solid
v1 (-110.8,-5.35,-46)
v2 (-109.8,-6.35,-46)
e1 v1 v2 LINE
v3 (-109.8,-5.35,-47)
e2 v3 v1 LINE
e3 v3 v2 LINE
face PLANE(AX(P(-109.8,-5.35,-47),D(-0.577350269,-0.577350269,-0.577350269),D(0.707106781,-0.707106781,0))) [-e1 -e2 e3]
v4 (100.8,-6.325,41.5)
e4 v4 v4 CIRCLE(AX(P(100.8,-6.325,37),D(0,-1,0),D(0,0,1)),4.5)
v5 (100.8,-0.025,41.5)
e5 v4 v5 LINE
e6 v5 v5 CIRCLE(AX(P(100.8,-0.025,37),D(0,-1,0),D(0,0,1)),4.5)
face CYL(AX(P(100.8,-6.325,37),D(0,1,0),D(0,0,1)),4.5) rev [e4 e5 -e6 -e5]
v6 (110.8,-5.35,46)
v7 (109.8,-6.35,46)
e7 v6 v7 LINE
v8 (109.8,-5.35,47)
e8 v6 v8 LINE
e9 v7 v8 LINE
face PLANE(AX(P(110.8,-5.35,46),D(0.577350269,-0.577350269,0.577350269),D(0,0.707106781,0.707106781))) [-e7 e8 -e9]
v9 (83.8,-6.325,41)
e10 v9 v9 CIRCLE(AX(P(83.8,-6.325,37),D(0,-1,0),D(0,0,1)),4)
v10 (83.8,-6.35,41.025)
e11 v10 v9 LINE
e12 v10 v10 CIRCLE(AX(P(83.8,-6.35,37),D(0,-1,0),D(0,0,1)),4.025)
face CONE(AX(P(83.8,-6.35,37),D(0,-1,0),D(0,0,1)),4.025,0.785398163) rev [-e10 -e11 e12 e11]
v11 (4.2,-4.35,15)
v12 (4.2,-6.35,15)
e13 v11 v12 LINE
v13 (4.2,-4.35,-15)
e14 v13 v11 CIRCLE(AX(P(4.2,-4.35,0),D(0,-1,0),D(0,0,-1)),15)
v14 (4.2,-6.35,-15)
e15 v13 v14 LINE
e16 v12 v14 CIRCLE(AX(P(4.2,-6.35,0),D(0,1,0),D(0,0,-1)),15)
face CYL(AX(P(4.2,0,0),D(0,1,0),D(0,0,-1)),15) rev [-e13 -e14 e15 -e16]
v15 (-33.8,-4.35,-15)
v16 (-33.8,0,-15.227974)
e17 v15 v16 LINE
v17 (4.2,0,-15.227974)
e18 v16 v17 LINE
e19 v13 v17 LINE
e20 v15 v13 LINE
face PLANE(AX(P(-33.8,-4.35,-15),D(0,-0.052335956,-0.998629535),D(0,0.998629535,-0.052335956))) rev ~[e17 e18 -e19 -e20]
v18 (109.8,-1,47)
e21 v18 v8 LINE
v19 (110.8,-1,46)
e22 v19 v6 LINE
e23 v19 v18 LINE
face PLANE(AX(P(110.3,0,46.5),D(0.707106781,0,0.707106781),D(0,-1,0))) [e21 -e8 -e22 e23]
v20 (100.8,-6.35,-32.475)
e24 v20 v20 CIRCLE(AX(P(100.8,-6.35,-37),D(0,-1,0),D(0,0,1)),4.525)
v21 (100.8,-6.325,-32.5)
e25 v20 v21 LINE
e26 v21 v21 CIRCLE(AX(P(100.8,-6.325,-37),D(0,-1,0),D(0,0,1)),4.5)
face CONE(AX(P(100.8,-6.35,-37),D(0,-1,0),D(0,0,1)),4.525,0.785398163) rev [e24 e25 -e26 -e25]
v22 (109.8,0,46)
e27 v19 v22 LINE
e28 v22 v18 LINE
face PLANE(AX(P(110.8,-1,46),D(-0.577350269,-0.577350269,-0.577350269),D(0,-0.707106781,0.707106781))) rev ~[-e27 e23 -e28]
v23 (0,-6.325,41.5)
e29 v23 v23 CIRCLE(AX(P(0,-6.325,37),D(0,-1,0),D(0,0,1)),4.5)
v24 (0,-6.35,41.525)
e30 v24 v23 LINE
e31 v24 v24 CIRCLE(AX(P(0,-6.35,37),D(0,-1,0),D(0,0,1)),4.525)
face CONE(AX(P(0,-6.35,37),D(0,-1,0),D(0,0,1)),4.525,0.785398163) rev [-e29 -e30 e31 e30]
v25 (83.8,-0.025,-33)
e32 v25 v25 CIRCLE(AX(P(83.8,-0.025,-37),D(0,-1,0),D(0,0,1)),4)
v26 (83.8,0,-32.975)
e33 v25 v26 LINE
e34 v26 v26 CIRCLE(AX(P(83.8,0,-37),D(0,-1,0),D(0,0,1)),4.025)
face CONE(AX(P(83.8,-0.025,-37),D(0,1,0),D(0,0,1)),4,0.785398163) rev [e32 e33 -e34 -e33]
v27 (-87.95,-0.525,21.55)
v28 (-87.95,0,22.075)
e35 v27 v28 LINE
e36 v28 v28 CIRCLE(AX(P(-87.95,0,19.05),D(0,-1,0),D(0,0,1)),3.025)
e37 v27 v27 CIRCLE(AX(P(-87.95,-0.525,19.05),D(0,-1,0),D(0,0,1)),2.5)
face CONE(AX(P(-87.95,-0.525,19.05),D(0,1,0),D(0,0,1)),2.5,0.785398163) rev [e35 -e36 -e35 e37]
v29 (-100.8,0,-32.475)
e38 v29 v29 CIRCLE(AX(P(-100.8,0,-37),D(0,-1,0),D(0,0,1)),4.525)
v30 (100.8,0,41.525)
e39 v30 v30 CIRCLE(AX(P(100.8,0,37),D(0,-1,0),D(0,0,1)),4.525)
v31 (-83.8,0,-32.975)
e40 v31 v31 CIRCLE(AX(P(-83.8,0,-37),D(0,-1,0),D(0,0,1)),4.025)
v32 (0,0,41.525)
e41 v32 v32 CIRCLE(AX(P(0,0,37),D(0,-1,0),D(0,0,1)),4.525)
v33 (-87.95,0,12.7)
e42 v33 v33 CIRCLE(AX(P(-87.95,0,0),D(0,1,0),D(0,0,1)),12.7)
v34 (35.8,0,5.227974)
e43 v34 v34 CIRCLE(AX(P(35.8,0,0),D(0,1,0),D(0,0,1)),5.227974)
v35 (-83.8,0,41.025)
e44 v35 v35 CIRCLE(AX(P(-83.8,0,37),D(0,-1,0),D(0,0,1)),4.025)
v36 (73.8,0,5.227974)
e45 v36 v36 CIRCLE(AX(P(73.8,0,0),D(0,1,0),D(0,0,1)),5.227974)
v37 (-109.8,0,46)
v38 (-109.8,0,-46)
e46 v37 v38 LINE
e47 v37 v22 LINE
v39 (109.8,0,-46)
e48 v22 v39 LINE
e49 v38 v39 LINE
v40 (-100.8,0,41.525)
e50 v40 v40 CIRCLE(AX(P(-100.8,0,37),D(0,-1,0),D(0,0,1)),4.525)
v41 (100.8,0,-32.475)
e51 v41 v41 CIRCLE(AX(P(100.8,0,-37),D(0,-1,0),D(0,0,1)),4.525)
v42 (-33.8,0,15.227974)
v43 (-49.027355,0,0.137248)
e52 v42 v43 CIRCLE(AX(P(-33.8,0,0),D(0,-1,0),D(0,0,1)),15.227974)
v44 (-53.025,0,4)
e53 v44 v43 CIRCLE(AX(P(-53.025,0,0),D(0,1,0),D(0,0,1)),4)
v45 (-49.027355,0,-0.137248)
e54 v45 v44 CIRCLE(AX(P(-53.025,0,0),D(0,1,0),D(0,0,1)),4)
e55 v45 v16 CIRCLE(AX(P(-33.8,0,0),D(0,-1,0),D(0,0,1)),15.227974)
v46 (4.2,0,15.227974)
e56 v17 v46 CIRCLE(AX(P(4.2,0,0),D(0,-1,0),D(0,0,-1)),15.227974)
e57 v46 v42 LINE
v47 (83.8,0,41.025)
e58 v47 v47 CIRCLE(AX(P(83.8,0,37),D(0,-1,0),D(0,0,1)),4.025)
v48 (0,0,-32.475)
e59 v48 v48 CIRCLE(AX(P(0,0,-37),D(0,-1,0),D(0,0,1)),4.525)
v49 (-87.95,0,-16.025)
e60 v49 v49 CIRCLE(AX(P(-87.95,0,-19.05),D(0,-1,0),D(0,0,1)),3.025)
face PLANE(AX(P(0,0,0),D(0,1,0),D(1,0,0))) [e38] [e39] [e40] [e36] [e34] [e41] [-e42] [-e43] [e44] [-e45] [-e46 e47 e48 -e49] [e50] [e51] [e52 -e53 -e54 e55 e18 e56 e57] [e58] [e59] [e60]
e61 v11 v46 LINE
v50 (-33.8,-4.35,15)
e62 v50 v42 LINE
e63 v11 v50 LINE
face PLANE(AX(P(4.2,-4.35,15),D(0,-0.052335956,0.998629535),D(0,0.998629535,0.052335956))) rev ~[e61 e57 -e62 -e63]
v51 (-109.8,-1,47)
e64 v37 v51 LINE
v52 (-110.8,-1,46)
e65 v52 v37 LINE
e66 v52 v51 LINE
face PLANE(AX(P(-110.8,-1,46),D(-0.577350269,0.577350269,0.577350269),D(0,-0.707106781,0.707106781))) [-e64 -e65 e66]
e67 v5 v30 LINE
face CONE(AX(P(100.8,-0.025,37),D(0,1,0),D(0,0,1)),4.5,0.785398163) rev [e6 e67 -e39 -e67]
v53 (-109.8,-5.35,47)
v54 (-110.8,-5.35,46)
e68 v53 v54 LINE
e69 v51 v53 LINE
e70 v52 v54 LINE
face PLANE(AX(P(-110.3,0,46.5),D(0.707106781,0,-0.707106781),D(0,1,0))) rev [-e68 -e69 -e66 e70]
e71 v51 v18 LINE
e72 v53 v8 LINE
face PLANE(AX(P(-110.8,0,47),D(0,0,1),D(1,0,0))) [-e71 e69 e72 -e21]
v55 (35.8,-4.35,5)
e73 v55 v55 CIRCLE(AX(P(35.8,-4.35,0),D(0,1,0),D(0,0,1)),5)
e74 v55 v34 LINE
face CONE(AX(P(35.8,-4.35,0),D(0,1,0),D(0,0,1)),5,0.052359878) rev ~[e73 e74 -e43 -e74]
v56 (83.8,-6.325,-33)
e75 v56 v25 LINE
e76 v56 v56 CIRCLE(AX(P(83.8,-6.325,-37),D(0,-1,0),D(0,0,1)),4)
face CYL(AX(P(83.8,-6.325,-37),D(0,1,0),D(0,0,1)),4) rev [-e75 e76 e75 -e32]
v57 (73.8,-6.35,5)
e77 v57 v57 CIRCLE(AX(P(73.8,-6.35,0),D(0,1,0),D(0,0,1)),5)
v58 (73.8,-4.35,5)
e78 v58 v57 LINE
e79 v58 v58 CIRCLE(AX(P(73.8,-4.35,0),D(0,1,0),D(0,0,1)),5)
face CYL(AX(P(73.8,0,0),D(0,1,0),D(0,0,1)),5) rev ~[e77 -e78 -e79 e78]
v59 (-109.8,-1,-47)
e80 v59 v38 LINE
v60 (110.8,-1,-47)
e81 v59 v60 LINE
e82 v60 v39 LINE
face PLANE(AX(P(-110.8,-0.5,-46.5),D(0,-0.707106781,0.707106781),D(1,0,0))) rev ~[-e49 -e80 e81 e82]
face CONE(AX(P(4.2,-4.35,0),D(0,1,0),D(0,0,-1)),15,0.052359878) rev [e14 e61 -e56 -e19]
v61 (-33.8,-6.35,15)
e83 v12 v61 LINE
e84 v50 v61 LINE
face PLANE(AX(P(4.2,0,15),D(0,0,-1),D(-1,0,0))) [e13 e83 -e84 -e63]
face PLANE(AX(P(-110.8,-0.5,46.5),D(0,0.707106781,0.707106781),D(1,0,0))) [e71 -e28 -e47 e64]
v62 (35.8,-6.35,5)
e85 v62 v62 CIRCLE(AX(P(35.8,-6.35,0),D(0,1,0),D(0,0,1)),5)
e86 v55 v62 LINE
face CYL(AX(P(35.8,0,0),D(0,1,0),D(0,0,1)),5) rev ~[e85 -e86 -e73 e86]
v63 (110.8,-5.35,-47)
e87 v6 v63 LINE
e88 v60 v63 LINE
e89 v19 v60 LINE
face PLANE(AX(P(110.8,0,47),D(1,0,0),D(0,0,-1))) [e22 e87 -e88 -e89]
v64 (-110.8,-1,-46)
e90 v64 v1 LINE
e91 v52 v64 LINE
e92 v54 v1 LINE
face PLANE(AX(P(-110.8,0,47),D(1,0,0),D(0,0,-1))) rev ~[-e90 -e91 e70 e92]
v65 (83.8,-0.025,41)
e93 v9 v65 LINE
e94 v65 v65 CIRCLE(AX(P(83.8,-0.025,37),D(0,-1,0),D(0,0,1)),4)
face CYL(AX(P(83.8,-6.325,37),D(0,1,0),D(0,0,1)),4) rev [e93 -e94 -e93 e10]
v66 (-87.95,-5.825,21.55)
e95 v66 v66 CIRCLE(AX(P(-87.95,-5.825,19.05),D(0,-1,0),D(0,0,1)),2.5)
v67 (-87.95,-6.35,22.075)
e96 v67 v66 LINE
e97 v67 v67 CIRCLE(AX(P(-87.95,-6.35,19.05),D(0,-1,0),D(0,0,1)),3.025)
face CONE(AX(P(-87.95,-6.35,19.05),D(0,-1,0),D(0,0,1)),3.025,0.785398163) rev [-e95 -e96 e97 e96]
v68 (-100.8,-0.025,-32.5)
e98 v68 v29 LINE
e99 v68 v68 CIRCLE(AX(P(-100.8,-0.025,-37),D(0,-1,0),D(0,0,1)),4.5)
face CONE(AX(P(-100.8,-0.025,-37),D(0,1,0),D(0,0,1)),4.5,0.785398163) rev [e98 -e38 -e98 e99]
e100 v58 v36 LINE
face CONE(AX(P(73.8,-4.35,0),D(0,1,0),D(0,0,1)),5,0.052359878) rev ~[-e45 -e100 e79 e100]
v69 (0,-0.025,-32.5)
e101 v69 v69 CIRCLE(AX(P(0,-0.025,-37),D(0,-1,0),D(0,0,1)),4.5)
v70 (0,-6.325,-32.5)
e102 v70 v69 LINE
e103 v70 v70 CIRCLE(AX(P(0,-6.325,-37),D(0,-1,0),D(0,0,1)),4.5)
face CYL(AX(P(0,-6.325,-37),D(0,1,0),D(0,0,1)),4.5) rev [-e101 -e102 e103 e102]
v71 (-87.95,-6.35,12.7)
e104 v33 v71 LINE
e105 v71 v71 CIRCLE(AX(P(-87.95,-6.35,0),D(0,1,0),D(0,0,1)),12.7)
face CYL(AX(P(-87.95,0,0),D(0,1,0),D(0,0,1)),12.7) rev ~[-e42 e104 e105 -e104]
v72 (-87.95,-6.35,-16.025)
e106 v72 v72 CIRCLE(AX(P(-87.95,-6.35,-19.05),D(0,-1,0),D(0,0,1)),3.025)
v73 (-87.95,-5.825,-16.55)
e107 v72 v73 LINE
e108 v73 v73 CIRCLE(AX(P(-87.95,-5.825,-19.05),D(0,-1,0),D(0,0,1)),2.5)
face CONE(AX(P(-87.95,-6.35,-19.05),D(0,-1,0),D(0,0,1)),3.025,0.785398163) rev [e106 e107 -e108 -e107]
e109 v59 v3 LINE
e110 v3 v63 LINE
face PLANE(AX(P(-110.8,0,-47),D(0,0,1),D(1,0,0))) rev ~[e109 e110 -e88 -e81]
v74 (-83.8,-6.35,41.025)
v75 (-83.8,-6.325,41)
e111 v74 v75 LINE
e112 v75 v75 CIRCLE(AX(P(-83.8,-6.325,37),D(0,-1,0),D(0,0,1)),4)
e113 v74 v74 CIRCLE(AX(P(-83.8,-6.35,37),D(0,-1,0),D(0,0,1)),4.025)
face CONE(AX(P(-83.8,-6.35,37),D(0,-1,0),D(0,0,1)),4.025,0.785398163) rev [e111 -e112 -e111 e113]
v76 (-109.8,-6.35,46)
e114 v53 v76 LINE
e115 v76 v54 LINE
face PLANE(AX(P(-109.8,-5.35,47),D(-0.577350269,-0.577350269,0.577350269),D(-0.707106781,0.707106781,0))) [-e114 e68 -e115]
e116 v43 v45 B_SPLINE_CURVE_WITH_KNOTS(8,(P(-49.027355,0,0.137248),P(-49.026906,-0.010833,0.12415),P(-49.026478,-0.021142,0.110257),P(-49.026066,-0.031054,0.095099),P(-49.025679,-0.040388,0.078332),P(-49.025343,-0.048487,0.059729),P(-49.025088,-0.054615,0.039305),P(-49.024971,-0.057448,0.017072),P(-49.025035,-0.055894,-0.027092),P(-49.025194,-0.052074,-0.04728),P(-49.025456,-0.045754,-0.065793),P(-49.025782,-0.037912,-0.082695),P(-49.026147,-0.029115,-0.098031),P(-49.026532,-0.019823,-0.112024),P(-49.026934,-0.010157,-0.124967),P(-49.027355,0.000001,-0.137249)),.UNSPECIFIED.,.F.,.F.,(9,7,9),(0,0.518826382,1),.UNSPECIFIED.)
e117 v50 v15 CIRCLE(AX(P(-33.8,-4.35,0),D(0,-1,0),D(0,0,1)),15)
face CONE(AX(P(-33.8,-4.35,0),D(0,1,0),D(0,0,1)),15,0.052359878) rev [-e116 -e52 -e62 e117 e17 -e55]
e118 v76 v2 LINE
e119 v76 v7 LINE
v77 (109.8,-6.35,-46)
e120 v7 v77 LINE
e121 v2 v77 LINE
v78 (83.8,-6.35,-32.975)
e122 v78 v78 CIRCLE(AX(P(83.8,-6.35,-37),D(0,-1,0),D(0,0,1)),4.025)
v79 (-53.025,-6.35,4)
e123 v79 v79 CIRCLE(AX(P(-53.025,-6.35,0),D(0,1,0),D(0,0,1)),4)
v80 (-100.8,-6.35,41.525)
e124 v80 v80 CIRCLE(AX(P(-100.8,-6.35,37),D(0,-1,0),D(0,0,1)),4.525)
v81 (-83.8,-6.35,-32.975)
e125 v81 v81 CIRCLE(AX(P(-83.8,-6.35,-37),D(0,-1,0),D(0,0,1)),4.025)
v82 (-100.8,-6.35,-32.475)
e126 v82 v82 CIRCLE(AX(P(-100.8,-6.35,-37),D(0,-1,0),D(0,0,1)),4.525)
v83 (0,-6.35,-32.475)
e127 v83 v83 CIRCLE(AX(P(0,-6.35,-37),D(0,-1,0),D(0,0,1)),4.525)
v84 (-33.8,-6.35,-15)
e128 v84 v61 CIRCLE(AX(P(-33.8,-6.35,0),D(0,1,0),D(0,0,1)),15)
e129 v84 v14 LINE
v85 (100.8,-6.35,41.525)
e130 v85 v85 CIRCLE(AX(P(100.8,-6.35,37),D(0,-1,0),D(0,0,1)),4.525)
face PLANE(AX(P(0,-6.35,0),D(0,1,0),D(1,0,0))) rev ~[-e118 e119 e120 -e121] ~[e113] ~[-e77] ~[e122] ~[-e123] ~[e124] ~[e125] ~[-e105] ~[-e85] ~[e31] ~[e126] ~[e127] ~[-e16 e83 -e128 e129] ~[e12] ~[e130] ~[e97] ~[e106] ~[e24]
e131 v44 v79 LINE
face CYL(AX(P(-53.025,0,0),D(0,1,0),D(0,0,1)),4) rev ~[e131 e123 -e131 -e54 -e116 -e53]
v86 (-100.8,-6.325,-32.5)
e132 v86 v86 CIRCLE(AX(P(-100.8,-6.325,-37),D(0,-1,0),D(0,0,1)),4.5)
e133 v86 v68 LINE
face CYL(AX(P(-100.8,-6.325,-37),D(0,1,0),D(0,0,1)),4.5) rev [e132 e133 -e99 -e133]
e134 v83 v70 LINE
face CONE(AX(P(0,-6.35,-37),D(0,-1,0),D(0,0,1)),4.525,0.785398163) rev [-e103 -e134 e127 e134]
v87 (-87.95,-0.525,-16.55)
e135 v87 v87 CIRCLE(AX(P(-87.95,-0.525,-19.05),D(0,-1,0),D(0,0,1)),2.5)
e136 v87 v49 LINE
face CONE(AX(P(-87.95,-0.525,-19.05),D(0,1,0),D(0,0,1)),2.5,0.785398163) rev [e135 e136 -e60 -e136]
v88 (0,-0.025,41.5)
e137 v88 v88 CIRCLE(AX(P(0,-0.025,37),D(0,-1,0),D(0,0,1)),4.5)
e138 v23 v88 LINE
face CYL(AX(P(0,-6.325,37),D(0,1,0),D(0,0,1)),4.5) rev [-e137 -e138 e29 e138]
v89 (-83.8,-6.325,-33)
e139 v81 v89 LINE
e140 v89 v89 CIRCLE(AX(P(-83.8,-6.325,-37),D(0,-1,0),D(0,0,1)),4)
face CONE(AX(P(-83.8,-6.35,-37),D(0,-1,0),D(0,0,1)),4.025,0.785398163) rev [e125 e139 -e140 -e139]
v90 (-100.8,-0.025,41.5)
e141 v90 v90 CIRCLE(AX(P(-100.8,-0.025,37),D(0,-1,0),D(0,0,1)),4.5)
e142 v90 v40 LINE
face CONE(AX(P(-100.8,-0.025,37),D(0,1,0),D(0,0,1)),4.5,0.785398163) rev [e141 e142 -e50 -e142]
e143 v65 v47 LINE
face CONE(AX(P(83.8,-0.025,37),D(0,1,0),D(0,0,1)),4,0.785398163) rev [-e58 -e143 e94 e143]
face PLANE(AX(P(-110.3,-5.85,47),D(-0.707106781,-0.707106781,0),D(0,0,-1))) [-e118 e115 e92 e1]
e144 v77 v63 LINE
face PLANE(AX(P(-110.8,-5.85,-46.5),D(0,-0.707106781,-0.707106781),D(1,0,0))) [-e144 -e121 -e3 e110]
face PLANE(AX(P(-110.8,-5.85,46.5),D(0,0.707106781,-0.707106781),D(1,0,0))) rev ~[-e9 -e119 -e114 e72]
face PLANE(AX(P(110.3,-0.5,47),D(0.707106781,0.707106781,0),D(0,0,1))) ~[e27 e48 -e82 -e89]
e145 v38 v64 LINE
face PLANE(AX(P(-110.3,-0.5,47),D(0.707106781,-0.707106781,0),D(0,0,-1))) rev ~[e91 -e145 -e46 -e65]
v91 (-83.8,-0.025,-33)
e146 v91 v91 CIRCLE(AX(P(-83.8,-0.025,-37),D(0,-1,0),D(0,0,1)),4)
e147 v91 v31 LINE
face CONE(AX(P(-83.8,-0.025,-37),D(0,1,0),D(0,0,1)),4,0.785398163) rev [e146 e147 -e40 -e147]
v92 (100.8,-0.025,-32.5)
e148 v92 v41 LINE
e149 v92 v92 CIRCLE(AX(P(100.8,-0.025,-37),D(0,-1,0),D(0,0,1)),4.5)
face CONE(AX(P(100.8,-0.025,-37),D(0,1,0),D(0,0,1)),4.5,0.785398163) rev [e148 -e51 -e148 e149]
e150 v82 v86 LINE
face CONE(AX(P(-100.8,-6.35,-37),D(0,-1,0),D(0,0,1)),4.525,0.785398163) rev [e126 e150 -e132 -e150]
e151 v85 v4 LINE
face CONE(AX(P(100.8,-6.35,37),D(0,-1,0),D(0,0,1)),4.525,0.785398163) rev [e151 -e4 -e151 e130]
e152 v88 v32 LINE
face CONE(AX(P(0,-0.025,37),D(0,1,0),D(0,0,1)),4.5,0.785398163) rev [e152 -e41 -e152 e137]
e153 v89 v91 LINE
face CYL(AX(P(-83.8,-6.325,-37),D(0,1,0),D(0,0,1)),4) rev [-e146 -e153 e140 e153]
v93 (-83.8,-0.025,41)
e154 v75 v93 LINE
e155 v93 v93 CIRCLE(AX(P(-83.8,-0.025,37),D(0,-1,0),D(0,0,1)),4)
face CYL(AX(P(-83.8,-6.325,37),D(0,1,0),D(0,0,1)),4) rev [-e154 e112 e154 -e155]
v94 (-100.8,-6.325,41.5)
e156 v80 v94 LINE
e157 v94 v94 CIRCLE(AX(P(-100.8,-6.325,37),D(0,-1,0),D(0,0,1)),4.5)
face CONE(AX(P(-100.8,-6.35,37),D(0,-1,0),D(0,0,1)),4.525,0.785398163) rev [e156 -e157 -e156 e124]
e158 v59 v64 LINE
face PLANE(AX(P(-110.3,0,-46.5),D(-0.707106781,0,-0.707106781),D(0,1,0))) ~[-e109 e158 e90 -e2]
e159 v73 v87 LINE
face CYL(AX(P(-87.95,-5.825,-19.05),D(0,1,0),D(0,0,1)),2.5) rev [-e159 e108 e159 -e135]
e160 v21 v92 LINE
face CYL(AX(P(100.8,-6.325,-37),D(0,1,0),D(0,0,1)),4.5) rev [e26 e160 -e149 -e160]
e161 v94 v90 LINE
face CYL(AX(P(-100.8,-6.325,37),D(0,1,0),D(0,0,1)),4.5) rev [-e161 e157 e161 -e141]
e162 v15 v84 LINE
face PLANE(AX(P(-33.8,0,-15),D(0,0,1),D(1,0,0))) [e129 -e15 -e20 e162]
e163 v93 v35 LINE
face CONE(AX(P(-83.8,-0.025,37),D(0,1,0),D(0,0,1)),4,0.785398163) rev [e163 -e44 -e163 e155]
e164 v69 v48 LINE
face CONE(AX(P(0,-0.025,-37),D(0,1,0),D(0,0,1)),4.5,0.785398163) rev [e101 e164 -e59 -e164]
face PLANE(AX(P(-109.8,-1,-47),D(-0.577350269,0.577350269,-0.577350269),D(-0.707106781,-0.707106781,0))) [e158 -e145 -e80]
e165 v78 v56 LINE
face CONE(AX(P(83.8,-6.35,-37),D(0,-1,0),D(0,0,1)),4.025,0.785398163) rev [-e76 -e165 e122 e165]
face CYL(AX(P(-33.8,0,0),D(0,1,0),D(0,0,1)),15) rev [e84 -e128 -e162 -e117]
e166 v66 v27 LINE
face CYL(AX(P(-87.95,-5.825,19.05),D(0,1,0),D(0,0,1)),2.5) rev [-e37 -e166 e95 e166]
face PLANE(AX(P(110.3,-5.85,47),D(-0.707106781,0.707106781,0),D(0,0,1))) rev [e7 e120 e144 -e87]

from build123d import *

# Parameters (mm, degrees)
SKETCH1_W                      = 221.6
SKETCH1_H                      = 94
BOSS_EXTRUDE1_DEPTH            = 6.35
CUT_EXTRUDE1_REACH             = 122.524
SKETCH3_R                      = 4
CHAMFER1_SIZE                  = 1
SKETCH6_R                      = 5
CUT_EXTRUDE2_DEPTH             = 121.523700989
CHAMFER2_SIZE                  = 4.35
CHAMFER2_SIZE2                 = 0.22797384
CHAMFER3_SIZE                  = 4.35
CHAMFER3_SIZE2                 = 0.22797384
SKETCH11_R                     = 12.7
CUT_EXTRUDE3_DEPTH             = 121.523700994
M8_CLEARANCE_HOLE1_AT_2_COUNT  = 2
M8_CLEARANCE_HOLE1_AT_2_PITCH  = 74
M8_CLEARANCE_HOLE1_AT_3_COUNT  = 2
M8_CLEARANCE_HOLE1_AT_3_PITCH  = 201.6
M8_CLEARANCE_HOLE1_AT_4_COUNT  = 2
M8_CLEARANCE_HOLE1_AT_4_PITCH  = 214.752322455
M8_CLEARANCE_HOLE1_AT_5_COUNT  = 2
M8_CLEARANCE_HOLE1_AT_5_PITCH  = 100.8
M8_CLEARANCE_HOLE1_AT_6_COUNT  = 2
M8_CLEARANCE_HOLE1_AT_6_PITCH  = 125.046551332
F_8_0MM_DOWEL_HOLE1_AT_2_COUNT = 2
F_8_0MM_DOWEL_HOLE1_AT_2_PITCH = 74
F_8_0MM_DOWEL_HOLE1_AT_3_COUNT = 2
F_8_0MM_DOWEL_HOLE1_AT_3_PITCH = 167.6
F_8_0MM_DOWEL_HOLE1_AT_4_COUNT = 2
F_8_0MM_DOWEL_HOLE1_AT_4_PITCH = 183.209606735
M6_TAPPED_HOLE1_AT_2_COUNT     = 2
M6_TAPPED_HOLE1_AT_2_PITCH     = 38.1


with BuildPart() as part:
    # Sketch1 → Boss-Extrude1 (new body)
    with BuildSketch(Plane(origin=(0, 0, 0), x_dir=(1, 0, 0), z_dir=(0, 1, 0))):
        Rectangle(SKETCH1_W, SKETCH1_H)
    extrude(amount=-BOSS_EXTRUDE1_DEPTH)

    # Sketch3 → Cut-Extrude1 (cut, up to next)
    with BuildSketch(Plane(origin=(0, 0, 0), x_dir=(1, 0, 0), z_dir=(0, 1, 0)), mode=Mode.PRIVATE) as cut_extrude1_sk1:
        with Locations(Location((-53.025, 0, 0), (0, 0, 270))):
            Circle(SKETCH3_R)
    cut_extrude1_tool1 = extrude(cut_extrude1_sk1.sketch, amount=-CUT_EXTRUDE1_REACH, mode=Mode.PRIVATE) & part.part
    add(cut_extrude1_tool1.solids().sort_by_distance((-53.025, 0, 0))[0], mode=Mode.SUBTRACT)

    # Chamfer1
    chamfer1_edges = [part.edges().sort_by_distance(p)[0] for p in [
        (-110.8, -6.35, 0),
        (0, -6.35, 47),
        (110.8, -6.35, 0),
        (0, 0, 47),
        (-110.8, 0, 0),
        (0, 0, -47),
        (110.8, 0, 0),
        (110.8, -3.175, 47),
        (-110.8, -3.175, 47),
        (-110.8, -3.175, -47),
        (0, -6.35, -47),
    ]]
    chamfer(chamfer1_edges, length=CHAMFER1_SIZE)

    # Sketch6 → Cut-Extrude2 (cut, through all)
    with BuildSketch(Plane(origin=(0, 0, 0), x_dir=(1, 0, 0), z_dir=(0, 1, 0))):
        with Locations(Location((73.8, 0, 0), (0, 0, 270))):
            Circle(SKETCH6_R)
        with Locations(Location((35.8, 0, 0), (0, 0, 270))):
            Circle(SKETCH6_R)
        with BuildLine():
            Line((-33.8, 15), (4.2, 15))
            ThreePointArc((4.2, 15), (19.2, 0), (4.2, -15))
            Line((4.2, -15), (-33.8, -15))
            ThreePointArc((-33.8, -15), (-48.8, 0), (-33.8, 15))
        make_face()
    extrude(amount=-CUT_EXTRUDE2_DEPTH, mode=Mode.SUBTRACT)

    # Cut-Sweep1: sweep along a path in Sketch2
    with BuildLine(Plane(origin=(0, 0, 0), x_dir=(1, 0, 0), z_dir=(0, 1, 0))) as cut_sweep1_path:
        Line((-33.8, 15), (4.2, 15))
        ThreePointArc((4.2, 15), (19.2, 0), (4.2, -15))
        Line((4.2, -15), (-33.8, -15))
        ThreePointArc((-33.8, -15), (-48.8, 0), (-33.8, 15))
    # Sketch10 → Cut-Sweep1 (sweep, cut)
    with BuildSketch(Plane(origin=(-33.8, 0, 0), x_dir=(0, 0, -1), z_dir=(1, 0, 0))):
        Polygon((15, -4.35), (15.22797384, 0), (15, 0), align=None)
    sweep(path=cut_sweep1_path.line, mode=Mode.SUBTRACT)

    # Chamfer2
    chamfer2_edges = [part.edges().sort_by_distance(p)[0] for p in [
        (35.8, 0, -5),
    ]]
    chamfer2_side = [part.faces().sort_by_distance(p)[0] for p in [
        (35.8, -3.175, -5),
    ]]
    chamfer(chamfer2_edges, length=CHAMFER2_SIZE, length2=CHAMFER2_SIZE2, reference=chamfer2_side[0])

    # Chamfer3
    chamfer3_edges = [part.edges().sort_by_distance(p)[0] for p in [
        (73.8, 0, -5),
    ]]
    chamfer3_side = [part.faces().sort_by_distance(p)[0] for p in [
        (73.8, -3.175, -5),
    ]]
    chamfer(chamfer3_edges, length=CHAMFER3_SIZE, length2=CHAMFER3_SIZE2, reference=chamfer3_side[0])

    # Sketch11 → Cut-Extrude3 (cut, through all)
    with BuildSketch(Plane(origin=(0, 0, 0), x_dir=(1, 0, 0), z_dir=(0, 1, 0))):
        with Locations(Location((-87.95, 0, 0), (0, 0, 270))):
            Circle(SKETCH11_R)
    extrude(amount=-CUT_EXTRUDE3_DEPTH, mode=Mode.SUBTRACT)

    # Sketch13 → M8 Clearance Hole1 (revolve, cut)
    with BuildSketch(Plane(origin=(-100.8, 0, -37), x_dir=(0, 0, 1), z_dir=(1, 0, 0))):
        Polygon((0, 0), (0, 6.35), (4.525, 6.35), (4.5, 6.325), (4.5, 0.025), (4.525, 0), align=None)
    m8_clearance_hole1 = revolve(axis=Axis((-100.8, 6.35, -37), (0, -1, 0)), mode=Mode.SUBTRACT)

    # M8 Clearance Hole1 at 2: M8 Clearance Hole1 ×2
    with Locations(*[(0, 0, i * M8_CLEARANCE_HOLE1_AT_2_PITCH) for i in range(1, M8_CLEARANCE_HOLE1_AT_2_COUNT)]):
        add(m8_clearance_hole1, mode=Mode.SUBTRACT)

    # M8 Clearance Hole1 at 3: M8 Clearance Hole1 ×2
    with Locations(*[(i * M8_CLEARANCE_HOLE1_AT_3_PITCH, 0, 0) for i in range(1, M8_CLEARANCE_HOLE1_AT_3_COUNT)]):
        add(m8_clearance_hole1, mode=Mode.SUBTRACT)

    # M8 Clearance Hole1 at 4: M8 Clearance Hole1 ×2
    with Locations(*[Vector(0.9387558546280332, 0, 0.34458300219481375) * (i * M8_CLEARANCE_HOLE1_AT_4_PITCH) for i in range(1, M8_CLEARANCE_HOLE1_AT_4_COUNT)]):
        add(m8_clearance_hole1, mode=Mode.SUBTRACT)

    # M8 Clearance Hole1 at 5: M8 Clearance Hole1 ×2
    with Locations(*[(i * M8_CLEARANCE_HOLE1_AT_5_PITCH, 0, 0) for i in range(1, M8_CLEARANCE_HOLE1_AT_5_COUNT)]):
        add(m8_clearance_hole1, mode=Mode.SUBTRACT)

    # M8 Clearance Hole1 at 6: M8 Clearance Hole1 ×2
    with Locations(*[Vector(0.8060997998454218, 0, 0.591779614965885) * (i * M8_CLEARANCE_HOLE1_AT_6_PITCH) for i in range(1, M8_CLEARANCE_HOLE1_AT_6_COUNT)]):
        add(m8_clearance_hole1, mode=Mode.SUBTRACT)

    # Sketch15 → Ø8.0mm Dowel Hole1 (revolve, cut)
    with BuildSketch(Plane(origin=(-83.8, 0, -37), x_dir=(0, 0, 1), z_dir=(1, 0, 0))):
        Polygon((0, 0), (0, 6.35), (4.025, 6.35), (4, 6.325), (4, 0.025), (4.025, 0), align=None)
    f_8_0mm_dowel_hole1 = revolve(axis=Axis((-83.8, 6.35, -37), (0, -1, 0)), mode=Mode.SUBTRACT)

    # Ø8.0mm Dowel Hole1 at 2: Ø8.0mm Dowel Hole1 ×2
    with Locations(*[(0, 0, i * F_8_0MM_DOWEL_HOLE1_AT_2_PITCH) for i in range(1, F_8_0MM_DOWEL_HOLE1_AT_2_COUNT)]):
        add(f_8_0mm_dowel_hole1, mode=Mode.SUBTRACT)

    # Ø8.0mm Dowel Hole1 at 3: Ø8.0mm Dowel Hole1 ×2
    with Locations(*[(i * F_8_0MM_DOWEL_HOLE1_AT_3_PITCH, 0, 0) for i in range(1, F_8_0MM_DOWEL_HOLE1_AT_3_COUNT)]):
        add(f_8_0mm_dowel_hole1, mode=Mode.SUBTRACT)

    # Ø8.0mm Dowel Hole1 at 4: Ø8.0mm Dowel Hole1 ×2
    with Locations(*[Vector(0.9147991908656035, 0, 0.40390895062085114) * (i * F_8_0MM_DOWEL_HOLE1_AT_4_PITCH) for i in range(1, F_8_0MM_DOWEL_HOLE1_AT_4_COUNT)]):
        add(f_8_0mm_dowel_hole1, mode=Mode.SUBTRACT)

    # Sketch17 → M6 Tapped Hole1 (revolve, cut)
    with BuildSketch(Plane(origin=(-87.95, 0, -19.05), x_dir=(0, 0, 1), z_dir=(1, 0, 0))):
        Polygon((0, 0), (0, 6.35), (3.025, 6.35), (2.5, 5.825), (2.5, 0.525), (3.025, 0), align=None)
    m6_tapped_hole1 = revolve(axis=Axis((-87.95, 6.35, -19.05), (0, -1, 0)), mode=Mode.SUBTRACT)

    # M6 Tapped Hole1 at 2: M6 Tapped Hole1 ×2
    with Locations(*[(0, 0, i * M6_TAPPED_HOLE1_AT_2_PITCH) for i in range(1, M6_TAPPED_HOLE1_AT_2_COUNT)]):
        add(m6_tapped_hole1, mode=Mode.SUBTRACT)


solid = part.part
